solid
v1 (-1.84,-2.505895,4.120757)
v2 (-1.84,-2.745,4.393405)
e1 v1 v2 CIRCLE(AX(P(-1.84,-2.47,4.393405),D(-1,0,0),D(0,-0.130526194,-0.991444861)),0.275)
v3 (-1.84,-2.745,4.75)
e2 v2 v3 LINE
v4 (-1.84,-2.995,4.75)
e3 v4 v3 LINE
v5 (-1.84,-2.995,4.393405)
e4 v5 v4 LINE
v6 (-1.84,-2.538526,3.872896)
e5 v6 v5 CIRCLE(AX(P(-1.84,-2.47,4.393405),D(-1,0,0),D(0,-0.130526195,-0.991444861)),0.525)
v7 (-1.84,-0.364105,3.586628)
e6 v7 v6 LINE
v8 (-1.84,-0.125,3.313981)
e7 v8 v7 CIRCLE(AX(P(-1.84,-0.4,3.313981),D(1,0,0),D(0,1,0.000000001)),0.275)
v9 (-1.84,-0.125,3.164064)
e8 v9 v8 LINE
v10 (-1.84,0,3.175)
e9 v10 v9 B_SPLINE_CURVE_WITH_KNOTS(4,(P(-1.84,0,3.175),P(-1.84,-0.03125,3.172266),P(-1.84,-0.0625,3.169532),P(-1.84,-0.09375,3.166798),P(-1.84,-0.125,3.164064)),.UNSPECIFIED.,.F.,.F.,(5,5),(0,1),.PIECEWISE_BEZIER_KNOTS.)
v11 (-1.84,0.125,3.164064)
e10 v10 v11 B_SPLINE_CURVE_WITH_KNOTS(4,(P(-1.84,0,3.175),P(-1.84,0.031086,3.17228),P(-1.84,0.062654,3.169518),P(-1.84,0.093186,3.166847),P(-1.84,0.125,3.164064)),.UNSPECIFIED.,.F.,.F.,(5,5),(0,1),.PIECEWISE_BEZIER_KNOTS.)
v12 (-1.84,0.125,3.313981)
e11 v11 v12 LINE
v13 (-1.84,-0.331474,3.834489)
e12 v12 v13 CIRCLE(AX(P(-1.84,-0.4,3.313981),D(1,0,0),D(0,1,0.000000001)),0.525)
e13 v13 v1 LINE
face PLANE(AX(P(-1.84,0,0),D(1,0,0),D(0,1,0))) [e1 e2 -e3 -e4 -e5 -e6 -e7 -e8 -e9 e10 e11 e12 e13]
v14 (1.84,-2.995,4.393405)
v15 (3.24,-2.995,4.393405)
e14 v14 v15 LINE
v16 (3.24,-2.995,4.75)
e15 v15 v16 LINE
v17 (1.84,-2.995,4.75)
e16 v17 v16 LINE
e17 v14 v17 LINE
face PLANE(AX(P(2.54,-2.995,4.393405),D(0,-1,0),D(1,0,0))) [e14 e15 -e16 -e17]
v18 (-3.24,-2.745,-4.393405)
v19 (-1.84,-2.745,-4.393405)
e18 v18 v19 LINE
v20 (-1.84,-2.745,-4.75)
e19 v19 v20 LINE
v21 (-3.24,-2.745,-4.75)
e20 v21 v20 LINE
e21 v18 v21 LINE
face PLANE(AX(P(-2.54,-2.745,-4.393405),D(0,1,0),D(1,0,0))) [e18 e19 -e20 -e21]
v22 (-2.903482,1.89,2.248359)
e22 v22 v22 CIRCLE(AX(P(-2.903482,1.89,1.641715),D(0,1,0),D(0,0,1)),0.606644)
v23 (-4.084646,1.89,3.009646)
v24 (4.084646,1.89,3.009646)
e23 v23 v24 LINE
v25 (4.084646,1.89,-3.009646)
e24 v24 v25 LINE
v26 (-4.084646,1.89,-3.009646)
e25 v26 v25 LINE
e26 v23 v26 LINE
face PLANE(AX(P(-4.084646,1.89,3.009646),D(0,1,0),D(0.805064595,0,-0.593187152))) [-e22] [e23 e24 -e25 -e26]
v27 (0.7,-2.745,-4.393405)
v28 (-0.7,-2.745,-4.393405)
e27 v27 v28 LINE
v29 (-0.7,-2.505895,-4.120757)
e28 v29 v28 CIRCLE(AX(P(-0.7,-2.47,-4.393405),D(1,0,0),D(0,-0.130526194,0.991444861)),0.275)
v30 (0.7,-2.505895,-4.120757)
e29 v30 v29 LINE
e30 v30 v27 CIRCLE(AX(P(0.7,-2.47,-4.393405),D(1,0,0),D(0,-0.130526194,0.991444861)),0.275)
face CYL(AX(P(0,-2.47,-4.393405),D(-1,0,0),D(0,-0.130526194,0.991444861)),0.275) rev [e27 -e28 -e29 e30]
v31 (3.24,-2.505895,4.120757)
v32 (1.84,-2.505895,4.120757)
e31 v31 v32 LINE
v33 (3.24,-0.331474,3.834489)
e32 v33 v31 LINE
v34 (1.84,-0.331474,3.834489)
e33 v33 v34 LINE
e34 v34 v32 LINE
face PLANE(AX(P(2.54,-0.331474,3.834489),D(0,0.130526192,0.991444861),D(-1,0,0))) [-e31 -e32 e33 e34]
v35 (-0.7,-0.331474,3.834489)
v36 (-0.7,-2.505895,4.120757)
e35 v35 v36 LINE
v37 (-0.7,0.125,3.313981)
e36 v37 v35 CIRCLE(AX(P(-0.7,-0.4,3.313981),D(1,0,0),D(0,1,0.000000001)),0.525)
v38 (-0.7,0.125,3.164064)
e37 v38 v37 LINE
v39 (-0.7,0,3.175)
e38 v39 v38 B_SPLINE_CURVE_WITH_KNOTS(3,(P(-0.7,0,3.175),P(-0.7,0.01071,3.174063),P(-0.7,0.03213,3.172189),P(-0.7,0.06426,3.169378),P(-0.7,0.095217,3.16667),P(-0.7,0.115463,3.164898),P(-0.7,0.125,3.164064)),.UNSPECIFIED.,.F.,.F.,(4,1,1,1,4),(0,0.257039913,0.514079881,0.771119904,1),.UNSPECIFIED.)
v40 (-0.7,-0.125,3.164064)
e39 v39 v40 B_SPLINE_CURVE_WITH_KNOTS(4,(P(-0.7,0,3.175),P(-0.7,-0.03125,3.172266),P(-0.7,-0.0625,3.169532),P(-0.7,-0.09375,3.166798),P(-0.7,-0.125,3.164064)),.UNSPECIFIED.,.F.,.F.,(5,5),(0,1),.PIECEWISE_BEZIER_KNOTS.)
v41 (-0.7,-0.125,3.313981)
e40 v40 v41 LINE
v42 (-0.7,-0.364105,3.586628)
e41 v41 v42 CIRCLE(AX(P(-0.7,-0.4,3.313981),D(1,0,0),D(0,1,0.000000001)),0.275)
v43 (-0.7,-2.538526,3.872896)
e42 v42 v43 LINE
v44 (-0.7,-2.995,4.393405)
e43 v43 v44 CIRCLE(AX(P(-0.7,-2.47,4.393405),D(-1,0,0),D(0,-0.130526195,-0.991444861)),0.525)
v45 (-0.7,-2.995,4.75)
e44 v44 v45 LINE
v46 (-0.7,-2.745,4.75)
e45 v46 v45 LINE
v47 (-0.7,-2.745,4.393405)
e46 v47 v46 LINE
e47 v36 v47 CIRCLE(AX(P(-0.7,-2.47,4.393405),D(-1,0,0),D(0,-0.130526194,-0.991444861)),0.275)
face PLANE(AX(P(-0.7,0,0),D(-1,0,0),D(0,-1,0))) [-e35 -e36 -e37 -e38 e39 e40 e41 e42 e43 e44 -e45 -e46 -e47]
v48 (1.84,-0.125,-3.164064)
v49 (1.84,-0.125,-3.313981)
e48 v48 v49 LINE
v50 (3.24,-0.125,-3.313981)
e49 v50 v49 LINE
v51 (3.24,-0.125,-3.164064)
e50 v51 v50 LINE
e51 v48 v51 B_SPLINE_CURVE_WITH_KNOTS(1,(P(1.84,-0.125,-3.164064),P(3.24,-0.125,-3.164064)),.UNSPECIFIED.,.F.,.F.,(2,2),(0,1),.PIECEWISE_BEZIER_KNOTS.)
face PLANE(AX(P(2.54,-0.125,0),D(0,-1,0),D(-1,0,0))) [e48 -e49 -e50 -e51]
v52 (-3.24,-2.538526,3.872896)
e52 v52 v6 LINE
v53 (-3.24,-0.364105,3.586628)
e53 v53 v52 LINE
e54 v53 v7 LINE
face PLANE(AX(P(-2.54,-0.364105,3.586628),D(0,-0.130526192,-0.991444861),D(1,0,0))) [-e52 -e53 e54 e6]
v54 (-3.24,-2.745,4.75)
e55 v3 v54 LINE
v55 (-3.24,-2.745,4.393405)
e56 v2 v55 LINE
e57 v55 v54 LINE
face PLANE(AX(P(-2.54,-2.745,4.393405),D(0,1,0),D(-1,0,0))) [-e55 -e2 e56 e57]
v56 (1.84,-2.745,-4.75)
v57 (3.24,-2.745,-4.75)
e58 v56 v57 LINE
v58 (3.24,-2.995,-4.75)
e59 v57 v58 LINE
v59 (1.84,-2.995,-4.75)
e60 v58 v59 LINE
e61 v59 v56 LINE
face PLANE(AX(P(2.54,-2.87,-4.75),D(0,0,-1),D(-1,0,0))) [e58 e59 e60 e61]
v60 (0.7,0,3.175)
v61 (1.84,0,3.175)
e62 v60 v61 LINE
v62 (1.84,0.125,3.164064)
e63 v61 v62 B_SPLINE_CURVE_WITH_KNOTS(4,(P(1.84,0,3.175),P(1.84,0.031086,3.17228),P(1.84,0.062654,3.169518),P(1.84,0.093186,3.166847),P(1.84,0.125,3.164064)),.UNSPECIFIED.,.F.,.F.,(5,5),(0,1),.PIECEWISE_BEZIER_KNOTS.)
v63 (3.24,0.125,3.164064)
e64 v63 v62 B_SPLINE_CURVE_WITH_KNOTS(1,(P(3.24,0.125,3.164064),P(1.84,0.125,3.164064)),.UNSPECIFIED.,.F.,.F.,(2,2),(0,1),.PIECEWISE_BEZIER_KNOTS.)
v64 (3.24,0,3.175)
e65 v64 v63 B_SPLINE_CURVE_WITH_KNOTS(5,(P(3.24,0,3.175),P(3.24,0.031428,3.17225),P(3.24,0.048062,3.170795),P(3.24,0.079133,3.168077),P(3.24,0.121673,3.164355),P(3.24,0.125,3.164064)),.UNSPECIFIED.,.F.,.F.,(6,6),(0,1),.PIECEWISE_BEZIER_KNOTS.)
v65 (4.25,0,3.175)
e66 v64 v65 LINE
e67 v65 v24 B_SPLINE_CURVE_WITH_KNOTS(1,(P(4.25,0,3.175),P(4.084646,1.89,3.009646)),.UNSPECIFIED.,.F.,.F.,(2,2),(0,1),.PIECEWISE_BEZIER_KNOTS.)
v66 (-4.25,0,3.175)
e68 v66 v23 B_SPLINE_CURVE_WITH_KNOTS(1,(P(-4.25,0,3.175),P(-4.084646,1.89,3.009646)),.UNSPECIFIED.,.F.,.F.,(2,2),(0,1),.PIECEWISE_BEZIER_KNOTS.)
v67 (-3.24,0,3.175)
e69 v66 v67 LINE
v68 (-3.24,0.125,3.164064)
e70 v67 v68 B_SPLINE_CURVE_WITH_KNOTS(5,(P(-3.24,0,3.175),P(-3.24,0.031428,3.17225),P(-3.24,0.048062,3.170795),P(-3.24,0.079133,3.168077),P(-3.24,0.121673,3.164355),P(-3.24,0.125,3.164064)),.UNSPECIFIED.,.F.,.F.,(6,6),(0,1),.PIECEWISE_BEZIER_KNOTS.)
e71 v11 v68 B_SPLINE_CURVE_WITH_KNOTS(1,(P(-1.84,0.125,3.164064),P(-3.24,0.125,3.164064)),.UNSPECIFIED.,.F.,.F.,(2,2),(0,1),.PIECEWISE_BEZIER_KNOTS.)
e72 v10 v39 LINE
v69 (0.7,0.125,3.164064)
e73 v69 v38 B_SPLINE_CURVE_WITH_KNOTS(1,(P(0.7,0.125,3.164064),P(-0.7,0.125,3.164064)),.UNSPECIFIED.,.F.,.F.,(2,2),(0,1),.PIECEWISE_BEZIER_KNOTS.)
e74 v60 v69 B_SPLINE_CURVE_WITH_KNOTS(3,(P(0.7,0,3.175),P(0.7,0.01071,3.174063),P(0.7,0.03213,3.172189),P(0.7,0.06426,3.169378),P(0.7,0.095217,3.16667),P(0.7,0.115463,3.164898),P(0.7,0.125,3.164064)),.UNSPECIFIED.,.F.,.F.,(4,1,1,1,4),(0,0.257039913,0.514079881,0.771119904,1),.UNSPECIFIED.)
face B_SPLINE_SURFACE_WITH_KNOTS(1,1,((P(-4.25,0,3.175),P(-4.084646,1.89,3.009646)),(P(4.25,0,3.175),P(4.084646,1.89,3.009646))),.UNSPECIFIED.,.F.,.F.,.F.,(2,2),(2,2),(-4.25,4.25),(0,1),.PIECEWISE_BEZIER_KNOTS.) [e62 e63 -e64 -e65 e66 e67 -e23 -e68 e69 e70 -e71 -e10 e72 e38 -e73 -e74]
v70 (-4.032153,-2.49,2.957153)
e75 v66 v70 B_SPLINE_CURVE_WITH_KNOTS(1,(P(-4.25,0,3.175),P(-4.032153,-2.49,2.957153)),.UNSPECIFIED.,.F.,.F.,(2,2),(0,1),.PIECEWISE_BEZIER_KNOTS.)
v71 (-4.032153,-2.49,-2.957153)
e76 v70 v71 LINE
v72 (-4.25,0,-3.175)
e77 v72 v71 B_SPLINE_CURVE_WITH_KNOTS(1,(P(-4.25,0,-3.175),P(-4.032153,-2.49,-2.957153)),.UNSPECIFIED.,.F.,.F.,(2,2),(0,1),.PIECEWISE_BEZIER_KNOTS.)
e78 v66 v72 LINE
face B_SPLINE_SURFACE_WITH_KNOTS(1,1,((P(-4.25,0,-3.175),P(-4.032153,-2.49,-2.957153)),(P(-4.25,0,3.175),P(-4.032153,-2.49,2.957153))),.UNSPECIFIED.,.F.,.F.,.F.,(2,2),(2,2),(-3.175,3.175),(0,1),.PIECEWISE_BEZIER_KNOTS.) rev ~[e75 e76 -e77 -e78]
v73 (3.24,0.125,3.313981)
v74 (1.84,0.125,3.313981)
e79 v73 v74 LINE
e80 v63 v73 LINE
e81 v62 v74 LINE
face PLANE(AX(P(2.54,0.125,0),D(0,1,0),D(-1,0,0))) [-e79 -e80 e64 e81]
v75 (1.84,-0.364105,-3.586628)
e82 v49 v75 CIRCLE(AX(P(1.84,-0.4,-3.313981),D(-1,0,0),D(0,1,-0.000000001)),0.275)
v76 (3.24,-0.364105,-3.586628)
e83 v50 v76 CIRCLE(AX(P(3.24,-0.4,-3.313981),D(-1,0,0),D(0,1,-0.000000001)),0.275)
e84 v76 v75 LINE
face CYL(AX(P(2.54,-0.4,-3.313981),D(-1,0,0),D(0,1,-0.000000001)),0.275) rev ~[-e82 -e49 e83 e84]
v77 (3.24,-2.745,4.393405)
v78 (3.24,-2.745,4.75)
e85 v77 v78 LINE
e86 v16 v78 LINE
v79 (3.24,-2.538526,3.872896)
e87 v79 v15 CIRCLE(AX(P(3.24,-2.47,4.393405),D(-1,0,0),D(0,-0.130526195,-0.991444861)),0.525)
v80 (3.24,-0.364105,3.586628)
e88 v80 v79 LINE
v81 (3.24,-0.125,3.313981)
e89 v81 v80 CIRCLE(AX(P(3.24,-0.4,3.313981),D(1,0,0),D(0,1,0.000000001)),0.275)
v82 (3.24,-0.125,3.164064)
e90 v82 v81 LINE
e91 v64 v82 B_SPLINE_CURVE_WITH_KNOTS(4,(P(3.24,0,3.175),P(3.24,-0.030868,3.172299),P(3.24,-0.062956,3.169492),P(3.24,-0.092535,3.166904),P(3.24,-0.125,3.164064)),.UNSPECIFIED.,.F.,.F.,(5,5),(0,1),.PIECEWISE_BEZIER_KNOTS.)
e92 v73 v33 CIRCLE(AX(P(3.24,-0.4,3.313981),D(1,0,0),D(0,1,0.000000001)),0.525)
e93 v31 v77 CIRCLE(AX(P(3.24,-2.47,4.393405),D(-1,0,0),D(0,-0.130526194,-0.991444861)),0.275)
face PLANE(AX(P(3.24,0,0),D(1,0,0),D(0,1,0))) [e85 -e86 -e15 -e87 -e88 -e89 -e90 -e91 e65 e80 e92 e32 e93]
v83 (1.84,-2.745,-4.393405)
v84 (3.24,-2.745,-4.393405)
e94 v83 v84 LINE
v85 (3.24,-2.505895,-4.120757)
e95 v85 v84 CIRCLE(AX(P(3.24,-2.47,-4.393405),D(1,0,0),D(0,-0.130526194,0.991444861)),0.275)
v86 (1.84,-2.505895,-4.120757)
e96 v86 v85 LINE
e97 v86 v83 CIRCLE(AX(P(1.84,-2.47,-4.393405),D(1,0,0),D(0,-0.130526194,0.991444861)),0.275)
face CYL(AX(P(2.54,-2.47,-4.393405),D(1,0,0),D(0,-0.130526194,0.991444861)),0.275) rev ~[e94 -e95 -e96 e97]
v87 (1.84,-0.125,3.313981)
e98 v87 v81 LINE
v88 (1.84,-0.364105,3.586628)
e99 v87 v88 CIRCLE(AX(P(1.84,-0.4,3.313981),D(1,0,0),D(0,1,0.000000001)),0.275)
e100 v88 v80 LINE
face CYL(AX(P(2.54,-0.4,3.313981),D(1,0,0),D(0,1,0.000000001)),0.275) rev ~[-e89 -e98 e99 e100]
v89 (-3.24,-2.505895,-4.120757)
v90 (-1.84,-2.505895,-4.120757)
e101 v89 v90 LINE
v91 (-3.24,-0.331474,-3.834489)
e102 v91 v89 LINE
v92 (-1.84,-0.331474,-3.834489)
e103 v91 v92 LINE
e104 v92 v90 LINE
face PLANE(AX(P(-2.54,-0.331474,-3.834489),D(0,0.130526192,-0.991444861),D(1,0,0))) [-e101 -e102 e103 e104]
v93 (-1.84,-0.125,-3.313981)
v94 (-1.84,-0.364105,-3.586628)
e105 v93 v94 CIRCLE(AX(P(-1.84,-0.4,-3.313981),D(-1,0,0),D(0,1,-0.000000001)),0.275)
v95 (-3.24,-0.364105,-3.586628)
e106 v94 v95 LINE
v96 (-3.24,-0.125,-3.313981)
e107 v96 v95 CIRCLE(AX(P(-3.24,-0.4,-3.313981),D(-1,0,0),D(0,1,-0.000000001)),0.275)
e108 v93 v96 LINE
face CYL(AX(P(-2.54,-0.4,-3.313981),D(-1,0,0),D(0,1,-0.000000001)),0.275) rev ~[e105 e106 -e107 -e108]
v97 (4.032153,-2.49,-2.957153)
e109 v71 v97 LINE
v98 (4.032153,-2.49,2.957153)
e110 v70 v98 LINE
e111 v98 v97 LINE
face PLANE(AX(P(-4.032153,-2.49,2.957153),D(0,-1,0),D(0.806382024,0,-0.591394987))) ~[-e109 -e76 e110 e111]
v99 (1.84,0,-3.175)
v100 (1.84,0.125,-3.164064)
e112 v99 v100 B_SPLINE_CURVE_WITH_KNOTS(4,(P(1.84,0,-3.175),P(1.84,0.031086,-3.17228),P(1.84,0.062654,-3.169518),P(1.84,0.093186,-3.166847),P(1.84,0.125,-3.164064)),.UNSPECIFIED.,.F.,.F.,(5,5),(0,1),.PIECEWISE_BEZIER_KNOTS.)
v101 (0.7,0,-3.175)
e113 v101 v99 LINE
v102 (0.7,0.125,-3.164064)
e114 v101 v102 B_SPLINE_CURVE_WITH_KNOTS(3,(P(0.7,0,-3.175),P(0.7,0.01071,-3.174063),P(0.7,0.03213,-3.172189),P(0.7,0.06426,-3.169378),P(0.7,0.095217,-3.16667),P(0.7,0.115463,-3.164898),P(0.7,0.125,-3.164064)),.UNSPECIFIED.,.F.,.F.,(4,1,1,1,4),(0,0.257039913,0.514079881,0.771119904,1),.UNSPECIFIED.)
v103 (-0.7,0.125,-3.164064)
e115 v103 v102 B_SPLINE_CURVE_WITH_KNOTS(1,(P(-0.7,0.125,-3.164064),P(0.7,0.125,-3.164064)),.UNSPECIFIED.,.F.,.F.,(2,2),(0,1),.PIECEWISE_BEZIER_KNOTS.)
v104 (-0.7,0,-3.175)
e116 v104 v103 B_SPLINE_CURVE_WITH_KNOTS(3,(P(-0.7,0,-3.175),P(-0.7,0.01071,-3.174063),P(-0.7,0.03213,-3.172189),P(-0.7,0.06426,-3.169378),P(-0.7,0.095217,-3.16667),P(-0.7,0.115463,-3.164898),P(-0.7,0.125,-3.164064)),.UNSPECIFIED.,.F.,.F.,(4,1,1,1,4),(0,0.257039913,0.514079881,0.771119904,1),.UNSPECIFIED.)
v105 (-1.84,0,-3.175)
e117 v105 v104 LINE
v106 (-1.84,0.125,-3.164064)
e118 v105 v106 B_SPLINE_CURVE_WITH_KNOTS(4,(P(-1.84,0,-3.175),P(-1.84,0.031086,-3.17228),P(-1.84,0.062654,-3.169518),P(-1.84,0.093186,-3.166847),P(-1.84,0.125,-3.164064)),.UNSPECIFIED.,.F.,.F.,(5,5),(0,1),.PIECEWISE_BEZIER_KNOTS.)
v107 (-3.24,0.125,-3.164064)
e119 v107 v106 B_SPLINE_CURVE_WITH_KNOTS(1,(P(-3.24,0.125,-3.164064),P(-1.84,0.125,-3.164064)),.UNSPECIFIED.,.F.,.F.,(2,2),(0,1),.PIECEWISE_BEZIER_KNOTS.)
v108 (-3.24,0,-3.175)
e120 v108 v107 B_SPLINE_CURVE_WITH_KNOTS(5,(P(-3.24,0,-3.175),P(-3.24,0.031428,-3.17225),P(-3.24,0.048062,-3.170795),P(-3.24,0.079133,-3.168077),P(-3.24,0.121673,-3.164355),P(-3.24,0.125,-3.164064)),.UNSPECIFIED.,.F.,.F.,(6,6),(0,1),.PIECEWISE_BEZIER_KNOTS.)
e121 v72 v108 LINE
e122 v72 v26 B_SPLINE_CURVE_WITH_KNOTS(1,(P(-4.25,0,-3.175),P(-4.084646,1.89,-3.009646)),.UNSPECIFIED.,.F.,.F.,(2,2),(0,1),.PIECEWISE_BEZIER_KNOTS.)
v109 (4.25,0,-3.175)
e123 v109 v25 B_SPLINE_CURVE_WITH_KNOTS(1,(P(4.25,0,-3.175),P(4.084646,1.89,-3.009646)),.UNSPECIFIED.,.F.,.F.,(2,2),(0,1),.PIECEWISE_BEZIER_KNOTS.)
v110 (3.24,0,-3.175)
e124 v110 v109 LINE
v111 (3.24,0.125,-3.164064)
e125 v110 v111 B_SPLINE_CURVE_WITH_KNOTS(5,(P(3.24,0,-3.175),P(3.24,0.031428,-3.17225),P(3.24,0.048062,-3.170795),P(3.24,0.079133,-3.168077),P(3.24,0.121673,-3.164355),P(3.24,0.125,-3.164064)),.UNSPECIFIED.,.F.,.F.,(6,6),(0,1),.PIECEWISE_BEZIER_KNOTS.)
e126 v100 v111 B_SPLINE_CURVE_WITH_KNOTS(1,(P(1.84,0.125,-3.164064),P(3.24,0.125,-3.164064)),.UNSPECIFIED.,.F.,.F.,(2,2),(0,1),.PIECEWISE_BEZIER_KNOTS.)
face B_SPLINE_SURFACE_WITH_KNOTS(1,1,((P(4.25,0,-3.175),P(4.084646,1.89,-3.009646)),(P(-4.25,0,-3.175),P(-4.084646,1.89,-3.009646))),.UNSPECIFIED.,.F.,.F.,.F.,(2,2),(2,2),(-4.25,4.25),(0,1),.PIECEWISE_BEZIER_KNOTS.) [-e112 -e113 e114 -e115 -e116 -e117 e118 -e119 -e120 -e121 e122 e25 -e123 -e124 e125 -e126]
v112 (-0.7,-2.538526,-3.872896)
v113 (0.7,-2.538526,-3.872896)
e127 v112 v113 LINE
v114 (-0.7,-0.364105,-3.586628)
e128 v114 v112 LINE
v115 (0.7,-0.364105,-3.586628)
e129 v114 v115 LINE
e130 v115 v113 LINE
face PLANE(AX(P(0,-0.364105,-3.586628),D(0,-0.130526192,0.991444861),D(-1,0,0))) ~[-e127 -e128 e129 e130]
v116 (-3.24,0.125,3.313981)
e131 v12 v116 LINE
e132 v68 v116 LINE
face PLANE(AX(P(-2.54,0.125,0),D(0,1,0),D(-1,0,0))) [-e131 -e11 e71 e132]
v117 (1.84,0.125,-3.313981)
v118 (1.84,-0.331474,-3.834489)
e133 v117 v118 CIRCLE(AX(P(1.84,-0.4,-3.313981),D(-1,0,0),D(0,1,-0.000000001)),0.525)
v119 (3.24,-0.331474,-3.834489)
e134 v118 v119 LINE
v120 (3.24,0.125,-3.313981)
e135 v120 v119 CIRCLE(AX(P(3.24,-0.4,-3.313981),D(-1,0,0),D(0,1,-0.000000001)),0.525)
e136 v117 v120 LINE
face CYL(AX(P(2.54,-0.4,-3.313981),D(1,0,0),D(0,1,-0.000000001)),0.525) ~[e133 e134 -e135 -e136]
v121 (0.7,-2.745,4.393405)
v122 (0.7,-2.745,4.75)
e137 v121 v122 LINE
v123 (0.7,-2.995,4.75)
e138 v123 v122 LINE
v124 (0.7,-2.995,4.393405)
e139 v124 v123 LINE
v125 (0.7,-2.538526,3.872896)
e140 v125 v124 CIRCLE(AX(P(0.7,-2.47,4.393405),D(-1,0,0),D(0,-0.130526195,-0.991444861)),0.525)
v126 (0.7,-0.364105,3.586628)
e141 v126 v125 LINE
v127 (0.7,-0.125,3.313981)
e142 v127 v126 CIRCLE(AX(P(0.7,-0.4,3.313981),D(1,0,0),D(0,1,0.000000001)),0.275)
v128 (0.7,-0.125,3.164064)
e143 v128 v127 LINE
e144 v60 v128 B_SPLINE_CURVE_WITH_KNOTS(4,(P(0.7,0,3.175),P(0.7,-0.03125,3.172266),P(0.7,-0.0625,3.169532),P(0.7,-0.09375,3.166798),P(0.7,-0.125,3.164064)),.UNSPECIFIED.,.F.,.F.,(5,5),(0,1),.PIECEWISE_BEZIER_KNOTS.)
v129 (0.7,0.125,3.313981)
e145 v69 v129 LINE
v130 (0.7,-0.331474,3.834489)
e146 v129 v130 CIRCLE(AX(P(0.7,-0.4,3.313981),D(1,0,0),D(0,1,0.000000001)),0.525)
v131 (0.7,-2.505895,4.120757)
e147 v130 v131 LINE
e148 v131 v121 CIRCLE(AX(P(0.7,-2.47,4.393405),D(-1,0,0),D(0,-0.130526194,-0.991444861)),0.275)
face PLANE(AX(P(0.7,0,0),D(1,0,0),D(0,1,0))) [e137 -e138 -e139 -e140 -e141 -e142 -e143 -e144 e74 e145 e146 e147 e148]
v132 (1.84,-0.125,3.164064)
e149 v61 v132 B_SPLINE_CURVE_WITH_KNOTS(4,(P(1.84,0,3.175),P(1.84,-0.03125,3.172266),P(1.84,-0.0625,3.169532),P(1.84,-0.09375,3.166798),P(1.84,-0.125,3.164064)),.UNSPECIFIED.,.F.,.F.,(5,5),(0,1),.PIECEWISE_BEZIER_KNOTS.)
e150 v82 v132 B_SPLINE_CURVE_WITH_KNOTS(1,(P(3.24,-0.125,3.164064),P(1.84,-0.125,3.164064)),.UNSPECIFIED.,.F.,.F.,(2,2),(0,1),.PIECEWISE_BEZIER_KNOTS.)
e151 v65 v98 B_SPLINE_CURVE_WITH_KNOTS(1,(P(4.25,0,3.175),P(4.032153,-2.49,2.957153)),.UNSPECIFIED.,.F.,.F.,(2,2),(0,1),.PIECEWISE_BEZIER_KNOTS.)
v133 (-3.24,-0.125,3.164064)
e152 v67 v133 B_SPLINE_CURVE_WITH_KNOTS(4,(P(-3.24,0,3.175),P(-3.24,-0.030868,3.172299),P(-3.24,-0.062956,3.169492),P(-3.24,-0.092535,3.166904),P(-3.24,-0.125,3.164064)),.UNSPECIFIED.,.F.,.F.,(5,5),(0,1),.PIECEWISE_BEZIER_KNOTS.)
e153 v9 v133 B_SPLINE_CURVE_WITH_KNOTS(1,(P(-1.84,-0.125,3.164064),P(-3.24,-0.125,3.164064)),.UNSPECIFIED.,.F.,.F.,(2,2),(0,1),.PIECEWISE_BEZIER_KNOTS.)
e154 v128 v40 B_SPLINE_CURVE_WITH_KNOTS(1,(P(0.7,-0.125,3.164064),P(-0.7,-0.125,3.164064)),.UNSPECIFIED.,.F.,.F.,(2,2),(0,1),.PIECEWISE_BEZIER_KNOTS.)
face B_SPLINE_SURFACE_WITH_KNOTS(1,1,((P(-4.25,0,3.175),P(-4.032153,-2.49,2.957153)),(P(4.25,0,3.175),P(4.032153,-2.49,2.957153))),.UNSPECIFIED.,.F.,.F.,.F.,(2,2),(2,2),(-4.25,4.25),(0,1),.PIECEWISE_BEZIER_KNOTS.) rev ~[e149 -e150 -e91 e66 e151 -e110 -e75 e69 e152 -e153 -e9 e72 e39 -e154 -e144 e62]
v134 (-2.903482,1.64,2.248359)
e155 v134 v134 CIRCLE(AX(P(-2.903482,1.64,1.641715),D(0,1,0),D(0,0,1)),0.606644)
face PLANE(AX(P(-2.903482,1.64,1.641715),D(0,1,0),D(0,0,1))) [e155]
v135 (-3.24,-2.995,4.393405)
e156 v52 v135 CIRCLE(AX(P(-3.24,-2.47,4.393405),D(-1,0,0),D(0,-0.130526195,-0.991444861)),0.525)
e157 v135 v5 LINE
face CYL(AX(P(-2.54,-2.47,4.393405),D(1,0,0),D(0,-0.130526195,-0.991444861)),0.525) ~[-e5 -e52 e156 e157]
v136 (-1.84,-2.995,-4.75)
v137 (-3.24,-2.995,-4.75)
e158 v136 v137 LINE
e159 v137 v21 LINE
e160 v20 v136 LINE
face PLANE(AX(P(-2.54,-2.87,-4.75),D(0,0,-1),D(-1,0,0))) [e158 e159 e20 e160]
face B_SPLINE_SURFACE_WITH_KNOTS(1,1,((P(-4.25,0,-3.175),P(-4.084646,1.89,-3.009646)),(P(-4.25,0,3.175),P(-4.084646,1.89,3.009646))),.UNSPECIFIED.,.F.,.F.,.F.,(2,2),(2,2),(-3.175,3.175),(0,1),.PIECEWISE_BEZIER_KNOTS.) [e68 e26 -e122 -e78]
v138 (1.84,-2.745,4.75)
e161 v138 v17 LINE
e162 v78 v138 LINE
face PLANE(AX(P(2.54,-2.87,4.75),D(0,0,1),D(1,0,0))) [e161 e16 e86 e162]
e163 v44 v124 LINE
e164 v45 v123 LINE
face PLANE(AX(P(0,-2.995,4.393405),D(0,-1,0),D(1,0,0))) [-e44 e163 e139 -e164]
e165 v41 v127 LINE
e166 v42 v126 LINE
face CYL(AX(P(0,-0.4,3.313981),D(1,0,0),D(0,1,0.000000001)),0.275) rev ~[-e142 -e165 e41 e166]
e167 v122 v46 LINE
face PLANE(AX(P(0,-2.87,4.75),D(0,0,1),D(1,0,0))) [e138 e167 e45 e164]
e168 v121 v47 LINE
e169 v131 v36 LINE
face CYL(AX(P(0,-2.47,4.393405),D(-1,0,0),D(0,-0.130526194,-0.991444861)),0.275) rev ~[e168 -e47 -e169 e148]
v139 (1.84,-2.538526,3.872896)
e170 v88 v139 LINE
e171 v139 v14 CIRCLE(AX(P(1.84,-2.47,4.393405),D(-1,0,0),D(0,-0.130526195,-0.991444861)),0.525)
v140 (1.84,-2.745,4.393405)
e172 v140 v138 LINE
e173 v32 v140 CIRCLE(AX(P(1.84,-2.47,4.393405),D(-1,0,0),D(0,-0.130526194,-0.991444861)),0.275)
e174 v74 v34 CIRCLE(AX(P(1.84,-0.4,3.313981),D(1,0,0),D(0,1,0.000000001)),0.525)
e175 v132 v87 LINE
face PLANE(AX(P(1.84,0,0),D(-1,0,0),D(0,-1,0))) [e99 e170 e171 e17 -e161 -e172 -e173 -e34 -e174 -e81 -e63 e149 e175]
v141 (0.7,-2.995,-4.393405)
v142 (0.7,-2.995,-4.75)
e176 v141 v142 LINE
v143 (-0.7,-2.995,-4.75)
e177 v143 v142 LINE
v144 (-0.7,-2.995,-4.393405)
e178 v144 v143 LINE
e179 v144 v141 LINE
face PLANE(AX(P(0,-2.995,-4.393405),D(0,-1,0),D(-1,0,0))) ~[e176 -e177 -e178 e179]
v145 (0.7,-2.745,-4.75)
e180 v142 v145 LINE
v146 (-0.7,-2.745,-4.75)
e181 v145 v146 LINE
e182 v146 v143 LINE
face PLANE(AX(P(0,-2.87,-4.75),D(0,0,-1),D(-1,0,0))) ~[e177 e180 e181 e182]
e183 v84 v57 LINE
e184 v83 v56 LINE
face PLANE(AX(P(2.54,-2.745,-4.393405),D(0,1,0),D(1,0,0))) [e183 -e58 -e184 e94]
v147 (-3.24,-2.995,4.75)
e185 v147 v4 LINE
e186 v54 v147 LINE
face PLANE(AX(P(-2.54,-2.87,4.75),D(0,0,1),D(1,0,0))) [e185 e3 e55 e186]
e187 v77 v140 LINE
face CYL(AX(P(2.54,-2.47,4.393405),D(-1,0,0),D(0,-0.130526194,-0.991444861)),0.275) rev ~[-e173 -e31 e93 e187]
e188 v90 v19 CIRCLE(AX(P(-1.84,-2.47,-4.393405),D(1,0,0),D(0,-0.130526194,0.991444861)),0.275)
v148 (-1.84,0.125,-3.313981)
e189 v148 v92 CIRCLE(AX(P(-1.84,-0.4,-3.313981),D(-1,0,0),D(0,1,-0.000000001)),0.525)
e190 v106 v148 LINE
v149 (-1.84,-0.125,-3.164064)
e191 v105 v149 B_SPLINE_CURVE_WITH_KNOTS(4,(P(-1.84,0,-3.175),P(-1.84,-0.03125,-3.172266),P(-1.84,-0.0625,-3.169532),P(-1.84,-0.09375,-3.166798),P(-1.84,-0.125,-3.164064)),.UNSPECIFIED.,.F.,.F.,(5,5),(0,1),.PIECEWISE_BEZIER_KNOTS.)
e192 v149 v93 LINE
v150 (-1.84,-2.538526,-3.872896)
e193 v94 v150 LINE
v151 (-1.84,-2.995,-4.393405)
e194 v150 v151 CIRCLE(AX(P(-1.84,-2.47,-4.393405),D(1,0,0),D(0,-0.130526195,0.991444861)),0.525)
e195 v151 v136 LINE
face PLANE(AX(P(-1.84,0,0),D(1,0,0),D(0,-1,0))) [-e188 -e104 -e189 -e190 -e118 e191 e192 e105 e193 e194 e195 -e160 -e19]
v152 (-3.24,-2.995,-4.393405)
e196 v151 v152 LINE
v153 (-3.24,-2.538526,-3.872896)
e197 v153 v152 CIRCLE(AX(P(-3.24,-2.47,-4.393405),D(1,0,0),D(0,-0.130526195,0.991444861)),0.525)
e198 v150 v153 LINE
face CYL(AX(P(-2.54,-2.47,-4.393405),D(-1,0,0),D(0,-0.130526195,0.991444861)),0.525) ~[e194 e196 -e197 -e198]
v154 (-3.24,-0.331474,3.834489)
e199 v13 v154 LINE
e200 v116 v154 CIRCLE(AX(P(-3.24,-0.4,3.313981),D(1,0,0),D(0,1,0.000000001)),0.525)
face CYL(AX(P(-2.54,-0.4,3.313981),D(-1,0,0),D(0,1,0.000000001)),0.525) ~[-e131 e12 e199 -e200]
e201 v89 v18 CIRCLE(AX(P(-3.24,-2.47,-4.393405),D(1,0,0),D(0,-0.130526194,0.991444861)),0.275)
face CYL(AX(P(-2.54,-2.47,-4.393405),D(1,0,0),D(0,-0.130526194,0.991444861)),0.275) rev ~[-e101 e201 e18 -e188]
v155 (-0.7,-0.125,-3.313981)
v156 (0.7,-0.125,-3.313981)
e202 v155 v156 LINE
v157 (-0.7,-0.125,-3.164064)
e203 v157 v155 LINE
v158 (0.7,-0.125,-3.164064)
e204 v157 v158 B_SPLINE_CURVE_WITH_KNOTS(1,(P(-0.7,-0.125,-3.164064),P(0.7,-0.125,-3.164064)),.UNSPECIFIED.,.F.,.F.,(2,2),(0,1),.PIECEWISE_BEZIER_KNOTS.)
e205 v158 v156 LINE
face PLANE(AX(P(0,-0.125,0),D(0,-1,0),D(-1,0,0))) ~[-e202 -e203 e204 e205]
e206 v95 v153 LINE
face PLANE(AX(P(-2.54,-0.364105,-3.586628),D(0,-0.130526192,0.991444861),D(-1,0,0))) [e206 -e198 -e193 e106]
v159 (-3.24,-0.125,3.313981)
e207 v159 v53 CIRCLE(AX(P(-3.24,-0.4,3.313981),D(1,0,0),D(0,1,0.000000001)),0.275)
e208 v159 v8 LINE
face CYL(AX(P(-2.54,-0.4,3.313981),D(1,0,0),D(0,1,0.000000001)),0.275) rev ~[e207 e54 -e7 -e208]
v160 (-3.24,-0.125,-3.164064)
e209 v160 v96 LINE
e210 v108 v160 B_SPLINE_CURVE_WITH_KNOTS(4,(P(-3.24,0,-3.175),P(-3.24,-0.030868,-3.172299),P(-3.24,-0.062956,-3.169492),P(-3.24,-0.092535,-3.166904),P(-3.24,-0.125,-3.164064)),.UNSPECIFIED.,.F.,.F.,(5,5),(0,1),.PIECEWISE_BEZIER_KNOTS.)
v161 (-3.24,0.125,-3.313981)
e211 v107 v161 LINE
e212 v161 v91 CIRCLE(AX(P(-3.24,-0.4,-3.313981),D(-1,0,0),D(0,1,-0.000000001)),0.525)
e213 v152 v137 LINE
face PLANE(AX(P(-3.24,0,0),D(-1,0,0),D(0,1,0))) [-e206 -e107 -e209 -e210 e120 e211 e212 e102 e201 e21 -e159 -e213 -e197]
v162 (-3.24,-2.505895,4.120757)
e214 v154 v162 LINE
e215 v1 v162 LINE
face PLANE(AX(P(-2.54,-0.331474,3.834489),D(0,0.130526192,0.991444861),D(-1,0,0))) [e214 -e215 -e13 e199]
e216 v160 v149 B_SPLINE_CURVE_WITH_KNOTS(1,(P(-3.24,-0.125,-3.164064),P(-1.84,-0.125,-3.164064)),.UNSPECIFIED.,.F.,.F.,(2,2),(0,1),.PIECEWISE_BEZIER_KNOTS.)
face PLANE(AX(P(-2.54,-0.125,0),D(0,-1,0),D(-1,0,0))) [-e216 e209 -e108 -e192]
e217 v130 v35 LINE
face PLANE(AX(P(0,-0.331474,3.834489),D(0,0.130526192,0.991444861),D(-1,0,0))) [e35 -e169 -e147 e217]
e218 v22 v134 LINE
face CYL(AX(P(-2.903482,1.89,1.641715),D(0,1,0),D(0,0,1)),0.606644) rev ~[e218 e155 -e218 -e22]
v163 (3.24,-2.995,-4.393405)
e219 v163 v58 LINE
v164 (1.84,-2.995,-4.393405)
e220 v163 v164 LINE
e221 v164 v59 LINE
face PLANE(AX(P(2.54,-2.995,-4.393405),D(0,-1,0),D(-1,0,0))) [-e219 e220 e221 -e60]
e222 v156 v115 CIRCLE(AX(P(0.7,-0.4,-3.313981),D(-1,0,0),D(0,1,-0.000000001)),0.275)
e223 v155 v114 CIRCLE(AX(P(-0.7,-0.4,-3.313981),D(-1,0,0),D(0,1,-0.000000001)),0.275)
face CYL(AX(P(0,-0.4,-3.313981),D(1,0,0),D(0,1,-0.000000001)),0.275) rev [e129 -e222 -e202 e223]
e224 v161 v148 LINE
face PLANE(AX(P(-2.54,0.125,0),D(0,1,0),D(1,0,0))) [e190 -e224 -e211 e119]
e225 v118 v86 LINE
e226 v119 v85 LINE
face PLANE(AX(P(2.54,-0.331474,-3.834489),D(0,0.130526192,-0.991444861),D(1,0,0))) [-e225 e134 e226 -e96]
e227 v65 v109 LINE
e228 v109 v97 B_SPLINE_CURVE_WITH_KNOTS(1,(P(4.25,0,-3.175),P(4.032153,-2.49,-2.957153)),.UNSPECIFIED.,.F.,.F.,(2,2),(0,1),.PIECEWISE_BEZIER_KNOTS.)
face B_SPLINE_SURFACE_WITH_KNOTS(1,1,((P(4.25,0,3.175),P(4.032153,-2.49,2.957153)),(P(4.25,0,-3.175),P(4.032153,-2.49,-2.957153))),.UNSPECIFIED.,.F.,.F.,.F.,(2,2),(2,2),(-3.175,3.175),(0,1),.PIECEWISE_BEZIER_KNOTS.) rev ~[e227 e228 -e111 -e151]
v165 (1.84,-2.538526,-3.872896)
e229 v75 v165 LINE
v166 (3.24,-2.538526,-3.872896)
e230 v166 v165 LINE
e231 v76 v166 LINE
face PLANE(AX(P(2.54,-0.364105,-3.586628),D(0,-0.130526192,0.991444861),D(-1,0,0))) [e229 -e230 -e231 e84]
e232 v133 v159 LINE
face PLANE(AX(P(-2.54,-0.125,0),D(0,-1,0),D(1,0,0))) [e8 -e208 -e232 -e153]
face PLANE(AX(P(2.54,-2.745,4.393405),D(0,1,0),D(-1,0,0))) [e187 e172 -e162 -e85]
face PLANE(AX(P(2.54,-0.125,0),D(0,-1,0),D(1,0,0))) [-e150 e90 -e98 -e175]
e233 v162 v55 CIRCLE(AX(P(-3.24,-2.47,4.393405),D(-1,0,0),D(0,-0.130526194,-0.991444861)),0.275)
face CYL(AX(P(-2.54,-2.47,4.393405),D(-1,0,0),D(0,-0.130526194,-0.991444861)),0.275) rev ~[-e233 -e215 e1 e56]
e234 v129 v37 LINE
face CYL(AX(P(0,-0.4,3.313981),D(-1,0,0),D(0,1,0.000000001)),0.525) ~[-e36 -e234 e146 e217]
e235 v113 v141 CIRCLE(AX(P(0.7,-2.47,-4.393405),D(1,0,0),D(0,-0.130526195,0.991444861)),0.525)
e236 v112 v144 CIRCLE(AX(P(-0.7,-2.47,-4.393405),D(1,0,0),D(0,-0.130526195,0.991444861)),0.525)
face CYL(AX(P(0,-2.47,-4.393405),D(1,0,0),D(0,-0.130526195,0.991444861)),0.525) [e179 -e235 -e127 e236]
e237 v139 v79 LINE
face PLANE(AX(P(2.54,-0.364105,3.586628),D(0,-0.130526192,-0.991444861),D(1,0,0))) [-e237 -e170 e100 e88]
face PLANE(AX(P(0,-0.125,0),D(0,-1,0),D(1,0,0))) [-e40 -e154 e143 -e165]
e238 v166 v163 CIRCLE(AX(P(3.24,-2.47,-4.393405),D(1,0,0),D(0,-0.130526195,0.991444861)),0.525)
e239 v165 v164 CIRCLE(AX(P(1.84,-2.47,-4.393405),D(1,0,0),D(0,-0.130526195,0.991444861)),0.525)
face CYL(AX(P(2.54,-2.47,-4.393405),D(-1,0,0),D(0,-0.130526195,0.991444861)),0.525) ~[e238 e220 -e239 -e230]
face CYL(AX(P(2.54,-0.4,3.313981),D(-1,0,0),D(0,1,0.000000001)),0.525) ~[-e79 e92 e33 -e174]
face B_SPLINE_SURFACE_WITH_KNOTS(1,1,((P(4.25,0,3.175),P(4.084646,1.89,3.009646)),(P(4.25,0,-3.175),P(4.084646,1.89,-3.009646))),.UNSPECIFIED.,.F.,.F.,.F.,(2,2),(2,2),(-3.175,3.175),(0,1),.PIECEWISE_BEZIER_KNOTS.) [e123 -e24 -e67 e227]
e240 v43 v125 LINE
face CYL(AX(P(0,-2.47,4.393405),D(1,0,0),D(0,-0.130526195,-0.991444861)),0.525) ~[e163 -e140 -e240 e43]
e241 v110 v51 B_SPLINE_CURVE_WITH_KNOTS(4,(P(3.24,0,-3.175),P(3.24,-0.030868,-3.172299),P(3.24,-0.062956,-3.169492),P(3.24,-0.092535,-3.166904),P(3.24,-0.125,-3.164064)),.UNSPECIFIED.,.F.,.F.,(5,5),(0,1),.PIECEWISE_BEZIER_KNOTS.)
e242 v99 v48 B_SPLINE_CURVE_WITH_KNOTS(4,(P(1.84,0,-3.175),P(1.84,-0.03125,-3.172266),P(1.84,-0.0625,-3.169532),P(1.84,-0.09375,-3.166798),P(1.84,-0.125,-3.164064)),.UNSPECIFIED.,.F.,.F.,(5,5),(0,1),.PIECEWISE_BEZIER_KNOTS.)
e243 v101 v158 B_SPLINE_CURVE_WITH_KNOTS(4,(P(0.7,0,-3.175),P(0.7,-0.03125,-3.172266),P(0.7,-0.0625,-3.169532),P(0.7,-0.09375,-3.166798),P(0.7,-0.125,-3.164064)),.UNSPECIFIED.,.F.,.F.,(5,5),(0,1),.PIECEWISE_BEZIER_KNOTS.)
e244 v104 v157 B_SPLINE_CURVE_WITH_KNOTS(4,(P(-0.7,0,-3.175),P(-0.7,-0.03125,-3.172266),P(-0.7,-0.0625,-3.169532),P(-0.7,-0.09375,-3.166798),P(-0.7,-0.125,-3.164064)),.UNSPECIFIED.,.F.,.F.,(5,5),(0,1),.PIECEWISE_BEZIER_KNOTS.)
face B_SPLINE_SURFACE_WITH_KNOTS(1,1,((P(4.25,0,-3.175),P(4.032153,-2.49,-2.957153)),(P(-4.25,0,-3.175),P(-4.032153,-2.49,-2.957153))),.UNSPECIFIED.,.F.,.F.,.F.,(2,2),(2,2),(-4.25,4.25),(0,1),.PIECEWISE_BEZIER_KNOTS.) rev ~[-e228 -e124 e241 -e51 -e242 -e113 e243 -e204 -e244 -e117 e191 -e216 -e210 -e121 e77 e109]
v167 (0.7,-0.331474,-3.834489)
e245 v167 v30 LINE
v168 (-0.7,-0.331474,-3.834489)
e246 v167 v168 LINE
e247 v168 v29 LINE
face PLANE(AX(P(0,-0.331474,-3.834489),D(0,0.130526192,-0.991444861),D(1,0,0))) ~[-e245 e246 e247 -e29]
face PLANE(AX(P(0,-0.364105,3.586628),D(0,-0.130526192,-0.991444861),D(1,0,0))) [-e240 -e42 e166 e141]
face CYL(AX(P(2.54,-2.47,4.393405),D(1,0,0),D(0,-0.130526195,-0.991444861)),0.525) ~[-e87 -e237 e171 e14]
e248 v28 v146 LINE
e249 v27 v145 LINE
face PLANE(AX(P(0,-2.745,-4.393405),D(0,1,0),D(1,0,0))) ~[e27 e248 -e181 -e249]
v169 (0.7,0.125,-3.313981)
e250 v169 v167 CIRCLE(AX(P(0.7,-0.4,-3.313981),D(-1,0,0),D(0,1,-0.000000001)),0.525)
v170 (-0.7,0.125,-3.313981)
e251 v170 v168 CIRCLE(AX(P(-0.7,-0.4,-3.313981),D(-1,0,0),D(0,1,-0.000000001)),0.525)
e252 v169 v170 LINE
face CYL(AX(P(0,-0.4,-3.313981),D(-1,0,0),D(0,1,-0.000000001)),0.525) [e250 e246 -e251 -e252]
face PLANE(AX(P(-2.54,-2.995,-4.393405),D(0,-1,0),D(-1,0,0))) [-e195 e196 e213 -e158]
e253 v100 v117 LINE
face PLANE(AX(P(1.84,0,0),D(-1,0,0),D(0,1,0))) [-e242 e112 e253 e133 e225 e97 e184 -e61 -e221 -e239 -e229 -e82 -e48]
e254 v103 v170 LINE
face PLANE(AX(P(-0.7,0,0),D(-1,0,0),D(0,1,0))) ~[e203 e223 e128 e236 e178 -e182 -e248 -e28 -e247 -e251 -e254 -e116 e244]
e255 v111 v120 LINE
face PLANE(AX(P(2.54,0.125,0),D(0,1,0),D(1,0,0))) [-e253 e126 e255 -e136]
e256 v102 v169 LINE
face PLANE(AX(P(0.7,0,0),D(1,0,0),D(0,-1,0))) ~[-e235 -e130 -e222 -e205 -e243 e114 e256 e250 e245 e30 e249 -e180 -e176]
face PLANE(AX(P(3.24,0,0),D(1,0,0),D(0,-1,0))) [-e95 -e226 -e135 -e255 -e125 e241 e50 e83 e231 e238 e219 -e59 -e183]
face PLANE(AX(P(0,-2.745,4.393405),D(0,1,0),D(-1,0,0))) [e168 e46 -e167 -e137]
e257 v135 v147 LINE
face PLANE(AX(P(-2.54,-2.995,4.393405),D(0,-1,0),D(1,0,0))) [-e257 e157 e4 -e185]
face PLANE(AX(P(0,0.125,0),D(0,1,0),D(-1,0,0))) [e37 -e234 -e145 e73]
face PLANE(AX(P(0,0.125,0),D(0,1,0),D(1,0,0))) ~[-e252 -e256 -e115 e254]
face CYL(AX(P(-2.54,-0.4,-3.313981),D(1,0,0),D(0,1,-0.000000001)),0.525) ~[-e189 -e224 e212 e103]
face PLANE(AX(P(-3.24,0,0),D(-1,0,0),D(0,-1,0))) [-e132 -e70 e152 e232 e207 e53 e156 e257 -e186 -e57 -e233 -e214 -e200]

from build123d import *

# Parameters (mm, degrees)
SKETCH1_W                     = 8.5
SKETCH1_H                     = 6.35
BOSS_EXTRUDE1_DEPTH           = 1.89
BOSS_EXTRUDE1_TAPER           = 5
BOSS_EXTRUDE1_OTHER_WAY_DEPTH = 2.49
BOSS_EXTRUDE1_OTHER_WAY_TAPER = 5
SKETCH2_W                     = 1.4
SKETCH2_H                     = 0.25
LPATTERN1_COUNT               = 2
LPATTERN1_PITCH               = 2.54
LPATTERN1_COL_COUNT           = 2
LPATTERN1_COL_PITCH           = 2.54
MIRROR1_COPY_1_SKETCH_W       = 1.4
MIRROR1_COPY_1_SKETCH_H       = 0.25
MIRROR1_COPY_2_SKETCH_W       = 1.4
MIRROR1_COPY_2_SKETCH_H       = 0.25
SKETCH4_R                     = 0.606643951
CUT_EXTRUDE1_DEPTH            = 0.25


with BuildPart() as part:
    # Sketch1 → Boss-Extrude1 (new body)
    with BuildSketch(Plane(origin=(0, 0, 0), x_dir=(1, 0, 0), z_dir=(0, 1, 0))):
        Rectangle(SKETCH1_W, SKETCH1_H)
    extrude(amount=BOSS_EXTRUDE1_DEPTH, taper=BOSS_EXTRUDE1_TAPER)

    # Sketch1 → Boss-Extrude1 other way (add)
    with BuildSketch(Plane(origin=(0, 0, 0), x_dir=(1, 0, 0), z_dir=(0, 1, 0))):
        Rectangle(SKETCH1_W, SKETCH1_H)
    extrude(amount=-BOSS_EXTRUDE1_OTHER_WAY_DEPTH, taper=BOSS_EXTRUDE1_OTHER_WAY_TAPER)

    # Sweep1: sweep along a path in Sketch3
    with BuildLine(Plane(origin=(0, 0, 0), x_dir=(0, 0, -1), z_dir=(1, 0, 0))) as sweep1_path:
        Line((0, 0), (-3.3139807, 0))
        ThreePointArc((-3.3139807, 0), (-3.577719026, -0.099264077), (-3.710558645, -0.347789523))
        Line((-3.710558645, -0.347789523), (-3.996826594, -2.522210477))
        ThreePointArc((-3.996826594, -2.522210477), (-4.129666213, -2.770735923), (-4.393404539, -2.87))
        Line((-4.393404539, -2.87), (-4.75, -2.87))
    # Sketch2 → Sweep1 (sweep)
    with BuildSketch(Plane.XY):
        Rectangle(SKETCH2_W, SKETCH2_H)
    sweep1 = sweep(path=sweep1_path.line)

    # LPattern1: Sweep1 ×2
    with Locations(*[(i * LPATTERN1_PITCH, 0, 0) for i in range(1, LPATTERN1_COUNT)]):
        add(sweep1)

    # LPattern1 col: Sweep1 ×2
    with Locations(*[(-i * LPATTERN1_COL_PITCH, 0, 0) for i in range(1, LPATTERN1_COL_COUNT)]):
        add(sweep1)

    # Mirror1: Sweep1 across plane
    add(sweep1.mirror(Plane.XY))

    # Mirror1 copy 1: sweep along a path in Mirror1 copy 1 path
    with BuildLine(Plane(origin=(2.54, 0, 0), x_dir=(0, 0, 1), z_dir=(1, 0, 0))) as mirror1_copy_1_path:
        Line((0, 0), (-3.3139807, 0))
        ThreePointArc((-3.3139807, 0), (-3.577719026, 0.099264077), (-3.710558645, 0.347789523))
        Line((-3.710558645, 0.347789523), (-3.996826594, 2.522210477))
        ThreePointArc((-3.996826594, 2.522210477), (-4.129666213, 2.770735923), (-4.393404539, 2.87))
        Line((-4.393404539, 2.87), (-4.75, 2.87))
    # Mirror1 copy 1 sketch → Mirror1 copy 1 (sweep)
    with BuildSketch(Plane(origin=(2.54, 0, 0), x_dir=(1, 0, 0), z_dir=(0, 0, -1))):
        Rectangle(MIRROR1_COPY_1_SKETCH_W, MIRROR1_COPY_1_SKETCH_H)
    sweep(path=mirror1_copy_1_path.line)

    # Mirror1 copy 2: sweep along a path in Mirror1 copy 2 path
    with BuildLine(Plane(origin=(-2.54, 0, 0), x_dir=(0, 0, 1), z_dir=(1, 0, 0))) as mirror1_copy_2_path:
        Line((0, 0), (-3.3139807, 0))
        ThreePointArc((-3.3139807, 0), (-3.577719026, 0.099264077), (-3.710558645, 0.347789523))
        Line((-3.710558645, 0.347789523), (-3.996826594, 2.522210477))
        ThreePointArc((-3.996826594, 2.522210477), (-4.129666213, 2.770735923), (-4.393404539, 2.87))
        Line((-4.393404539, 2.87), (-4.75, 2.87))
    # Mirror1 copy 2 sketch → Mirror1 copy 2 (sweep)
    with BuildSketch(Plane(origin=(-2.54, 0, 0), x_dir=(1, 0, 0), z_dir=(0, 0, -1))):
        Rectangle(MIRROR1_COPY_2_SKETCH_W, MIRROR1_COPY_2_SKETCH_H)
    sweep(path=mirror1_copy_2_path.line)

    # Sketch4 → Cut-Extrude1 (cut)
    with BuildSketch(Plane(origin=(0, 1.89, 0), x_dir=(1, 0, 0), z_dir=(0, 1, 0))):
        with Locations(Location((-2.903482354, -1.641715186, 0), (0, 0, 270))):
            Circle(SKETCH4_R)
    extrude(amount=-CUT_EXTRUDE1_DEPTH, mode=Mode.SUBTRACT)


solid = part.part
